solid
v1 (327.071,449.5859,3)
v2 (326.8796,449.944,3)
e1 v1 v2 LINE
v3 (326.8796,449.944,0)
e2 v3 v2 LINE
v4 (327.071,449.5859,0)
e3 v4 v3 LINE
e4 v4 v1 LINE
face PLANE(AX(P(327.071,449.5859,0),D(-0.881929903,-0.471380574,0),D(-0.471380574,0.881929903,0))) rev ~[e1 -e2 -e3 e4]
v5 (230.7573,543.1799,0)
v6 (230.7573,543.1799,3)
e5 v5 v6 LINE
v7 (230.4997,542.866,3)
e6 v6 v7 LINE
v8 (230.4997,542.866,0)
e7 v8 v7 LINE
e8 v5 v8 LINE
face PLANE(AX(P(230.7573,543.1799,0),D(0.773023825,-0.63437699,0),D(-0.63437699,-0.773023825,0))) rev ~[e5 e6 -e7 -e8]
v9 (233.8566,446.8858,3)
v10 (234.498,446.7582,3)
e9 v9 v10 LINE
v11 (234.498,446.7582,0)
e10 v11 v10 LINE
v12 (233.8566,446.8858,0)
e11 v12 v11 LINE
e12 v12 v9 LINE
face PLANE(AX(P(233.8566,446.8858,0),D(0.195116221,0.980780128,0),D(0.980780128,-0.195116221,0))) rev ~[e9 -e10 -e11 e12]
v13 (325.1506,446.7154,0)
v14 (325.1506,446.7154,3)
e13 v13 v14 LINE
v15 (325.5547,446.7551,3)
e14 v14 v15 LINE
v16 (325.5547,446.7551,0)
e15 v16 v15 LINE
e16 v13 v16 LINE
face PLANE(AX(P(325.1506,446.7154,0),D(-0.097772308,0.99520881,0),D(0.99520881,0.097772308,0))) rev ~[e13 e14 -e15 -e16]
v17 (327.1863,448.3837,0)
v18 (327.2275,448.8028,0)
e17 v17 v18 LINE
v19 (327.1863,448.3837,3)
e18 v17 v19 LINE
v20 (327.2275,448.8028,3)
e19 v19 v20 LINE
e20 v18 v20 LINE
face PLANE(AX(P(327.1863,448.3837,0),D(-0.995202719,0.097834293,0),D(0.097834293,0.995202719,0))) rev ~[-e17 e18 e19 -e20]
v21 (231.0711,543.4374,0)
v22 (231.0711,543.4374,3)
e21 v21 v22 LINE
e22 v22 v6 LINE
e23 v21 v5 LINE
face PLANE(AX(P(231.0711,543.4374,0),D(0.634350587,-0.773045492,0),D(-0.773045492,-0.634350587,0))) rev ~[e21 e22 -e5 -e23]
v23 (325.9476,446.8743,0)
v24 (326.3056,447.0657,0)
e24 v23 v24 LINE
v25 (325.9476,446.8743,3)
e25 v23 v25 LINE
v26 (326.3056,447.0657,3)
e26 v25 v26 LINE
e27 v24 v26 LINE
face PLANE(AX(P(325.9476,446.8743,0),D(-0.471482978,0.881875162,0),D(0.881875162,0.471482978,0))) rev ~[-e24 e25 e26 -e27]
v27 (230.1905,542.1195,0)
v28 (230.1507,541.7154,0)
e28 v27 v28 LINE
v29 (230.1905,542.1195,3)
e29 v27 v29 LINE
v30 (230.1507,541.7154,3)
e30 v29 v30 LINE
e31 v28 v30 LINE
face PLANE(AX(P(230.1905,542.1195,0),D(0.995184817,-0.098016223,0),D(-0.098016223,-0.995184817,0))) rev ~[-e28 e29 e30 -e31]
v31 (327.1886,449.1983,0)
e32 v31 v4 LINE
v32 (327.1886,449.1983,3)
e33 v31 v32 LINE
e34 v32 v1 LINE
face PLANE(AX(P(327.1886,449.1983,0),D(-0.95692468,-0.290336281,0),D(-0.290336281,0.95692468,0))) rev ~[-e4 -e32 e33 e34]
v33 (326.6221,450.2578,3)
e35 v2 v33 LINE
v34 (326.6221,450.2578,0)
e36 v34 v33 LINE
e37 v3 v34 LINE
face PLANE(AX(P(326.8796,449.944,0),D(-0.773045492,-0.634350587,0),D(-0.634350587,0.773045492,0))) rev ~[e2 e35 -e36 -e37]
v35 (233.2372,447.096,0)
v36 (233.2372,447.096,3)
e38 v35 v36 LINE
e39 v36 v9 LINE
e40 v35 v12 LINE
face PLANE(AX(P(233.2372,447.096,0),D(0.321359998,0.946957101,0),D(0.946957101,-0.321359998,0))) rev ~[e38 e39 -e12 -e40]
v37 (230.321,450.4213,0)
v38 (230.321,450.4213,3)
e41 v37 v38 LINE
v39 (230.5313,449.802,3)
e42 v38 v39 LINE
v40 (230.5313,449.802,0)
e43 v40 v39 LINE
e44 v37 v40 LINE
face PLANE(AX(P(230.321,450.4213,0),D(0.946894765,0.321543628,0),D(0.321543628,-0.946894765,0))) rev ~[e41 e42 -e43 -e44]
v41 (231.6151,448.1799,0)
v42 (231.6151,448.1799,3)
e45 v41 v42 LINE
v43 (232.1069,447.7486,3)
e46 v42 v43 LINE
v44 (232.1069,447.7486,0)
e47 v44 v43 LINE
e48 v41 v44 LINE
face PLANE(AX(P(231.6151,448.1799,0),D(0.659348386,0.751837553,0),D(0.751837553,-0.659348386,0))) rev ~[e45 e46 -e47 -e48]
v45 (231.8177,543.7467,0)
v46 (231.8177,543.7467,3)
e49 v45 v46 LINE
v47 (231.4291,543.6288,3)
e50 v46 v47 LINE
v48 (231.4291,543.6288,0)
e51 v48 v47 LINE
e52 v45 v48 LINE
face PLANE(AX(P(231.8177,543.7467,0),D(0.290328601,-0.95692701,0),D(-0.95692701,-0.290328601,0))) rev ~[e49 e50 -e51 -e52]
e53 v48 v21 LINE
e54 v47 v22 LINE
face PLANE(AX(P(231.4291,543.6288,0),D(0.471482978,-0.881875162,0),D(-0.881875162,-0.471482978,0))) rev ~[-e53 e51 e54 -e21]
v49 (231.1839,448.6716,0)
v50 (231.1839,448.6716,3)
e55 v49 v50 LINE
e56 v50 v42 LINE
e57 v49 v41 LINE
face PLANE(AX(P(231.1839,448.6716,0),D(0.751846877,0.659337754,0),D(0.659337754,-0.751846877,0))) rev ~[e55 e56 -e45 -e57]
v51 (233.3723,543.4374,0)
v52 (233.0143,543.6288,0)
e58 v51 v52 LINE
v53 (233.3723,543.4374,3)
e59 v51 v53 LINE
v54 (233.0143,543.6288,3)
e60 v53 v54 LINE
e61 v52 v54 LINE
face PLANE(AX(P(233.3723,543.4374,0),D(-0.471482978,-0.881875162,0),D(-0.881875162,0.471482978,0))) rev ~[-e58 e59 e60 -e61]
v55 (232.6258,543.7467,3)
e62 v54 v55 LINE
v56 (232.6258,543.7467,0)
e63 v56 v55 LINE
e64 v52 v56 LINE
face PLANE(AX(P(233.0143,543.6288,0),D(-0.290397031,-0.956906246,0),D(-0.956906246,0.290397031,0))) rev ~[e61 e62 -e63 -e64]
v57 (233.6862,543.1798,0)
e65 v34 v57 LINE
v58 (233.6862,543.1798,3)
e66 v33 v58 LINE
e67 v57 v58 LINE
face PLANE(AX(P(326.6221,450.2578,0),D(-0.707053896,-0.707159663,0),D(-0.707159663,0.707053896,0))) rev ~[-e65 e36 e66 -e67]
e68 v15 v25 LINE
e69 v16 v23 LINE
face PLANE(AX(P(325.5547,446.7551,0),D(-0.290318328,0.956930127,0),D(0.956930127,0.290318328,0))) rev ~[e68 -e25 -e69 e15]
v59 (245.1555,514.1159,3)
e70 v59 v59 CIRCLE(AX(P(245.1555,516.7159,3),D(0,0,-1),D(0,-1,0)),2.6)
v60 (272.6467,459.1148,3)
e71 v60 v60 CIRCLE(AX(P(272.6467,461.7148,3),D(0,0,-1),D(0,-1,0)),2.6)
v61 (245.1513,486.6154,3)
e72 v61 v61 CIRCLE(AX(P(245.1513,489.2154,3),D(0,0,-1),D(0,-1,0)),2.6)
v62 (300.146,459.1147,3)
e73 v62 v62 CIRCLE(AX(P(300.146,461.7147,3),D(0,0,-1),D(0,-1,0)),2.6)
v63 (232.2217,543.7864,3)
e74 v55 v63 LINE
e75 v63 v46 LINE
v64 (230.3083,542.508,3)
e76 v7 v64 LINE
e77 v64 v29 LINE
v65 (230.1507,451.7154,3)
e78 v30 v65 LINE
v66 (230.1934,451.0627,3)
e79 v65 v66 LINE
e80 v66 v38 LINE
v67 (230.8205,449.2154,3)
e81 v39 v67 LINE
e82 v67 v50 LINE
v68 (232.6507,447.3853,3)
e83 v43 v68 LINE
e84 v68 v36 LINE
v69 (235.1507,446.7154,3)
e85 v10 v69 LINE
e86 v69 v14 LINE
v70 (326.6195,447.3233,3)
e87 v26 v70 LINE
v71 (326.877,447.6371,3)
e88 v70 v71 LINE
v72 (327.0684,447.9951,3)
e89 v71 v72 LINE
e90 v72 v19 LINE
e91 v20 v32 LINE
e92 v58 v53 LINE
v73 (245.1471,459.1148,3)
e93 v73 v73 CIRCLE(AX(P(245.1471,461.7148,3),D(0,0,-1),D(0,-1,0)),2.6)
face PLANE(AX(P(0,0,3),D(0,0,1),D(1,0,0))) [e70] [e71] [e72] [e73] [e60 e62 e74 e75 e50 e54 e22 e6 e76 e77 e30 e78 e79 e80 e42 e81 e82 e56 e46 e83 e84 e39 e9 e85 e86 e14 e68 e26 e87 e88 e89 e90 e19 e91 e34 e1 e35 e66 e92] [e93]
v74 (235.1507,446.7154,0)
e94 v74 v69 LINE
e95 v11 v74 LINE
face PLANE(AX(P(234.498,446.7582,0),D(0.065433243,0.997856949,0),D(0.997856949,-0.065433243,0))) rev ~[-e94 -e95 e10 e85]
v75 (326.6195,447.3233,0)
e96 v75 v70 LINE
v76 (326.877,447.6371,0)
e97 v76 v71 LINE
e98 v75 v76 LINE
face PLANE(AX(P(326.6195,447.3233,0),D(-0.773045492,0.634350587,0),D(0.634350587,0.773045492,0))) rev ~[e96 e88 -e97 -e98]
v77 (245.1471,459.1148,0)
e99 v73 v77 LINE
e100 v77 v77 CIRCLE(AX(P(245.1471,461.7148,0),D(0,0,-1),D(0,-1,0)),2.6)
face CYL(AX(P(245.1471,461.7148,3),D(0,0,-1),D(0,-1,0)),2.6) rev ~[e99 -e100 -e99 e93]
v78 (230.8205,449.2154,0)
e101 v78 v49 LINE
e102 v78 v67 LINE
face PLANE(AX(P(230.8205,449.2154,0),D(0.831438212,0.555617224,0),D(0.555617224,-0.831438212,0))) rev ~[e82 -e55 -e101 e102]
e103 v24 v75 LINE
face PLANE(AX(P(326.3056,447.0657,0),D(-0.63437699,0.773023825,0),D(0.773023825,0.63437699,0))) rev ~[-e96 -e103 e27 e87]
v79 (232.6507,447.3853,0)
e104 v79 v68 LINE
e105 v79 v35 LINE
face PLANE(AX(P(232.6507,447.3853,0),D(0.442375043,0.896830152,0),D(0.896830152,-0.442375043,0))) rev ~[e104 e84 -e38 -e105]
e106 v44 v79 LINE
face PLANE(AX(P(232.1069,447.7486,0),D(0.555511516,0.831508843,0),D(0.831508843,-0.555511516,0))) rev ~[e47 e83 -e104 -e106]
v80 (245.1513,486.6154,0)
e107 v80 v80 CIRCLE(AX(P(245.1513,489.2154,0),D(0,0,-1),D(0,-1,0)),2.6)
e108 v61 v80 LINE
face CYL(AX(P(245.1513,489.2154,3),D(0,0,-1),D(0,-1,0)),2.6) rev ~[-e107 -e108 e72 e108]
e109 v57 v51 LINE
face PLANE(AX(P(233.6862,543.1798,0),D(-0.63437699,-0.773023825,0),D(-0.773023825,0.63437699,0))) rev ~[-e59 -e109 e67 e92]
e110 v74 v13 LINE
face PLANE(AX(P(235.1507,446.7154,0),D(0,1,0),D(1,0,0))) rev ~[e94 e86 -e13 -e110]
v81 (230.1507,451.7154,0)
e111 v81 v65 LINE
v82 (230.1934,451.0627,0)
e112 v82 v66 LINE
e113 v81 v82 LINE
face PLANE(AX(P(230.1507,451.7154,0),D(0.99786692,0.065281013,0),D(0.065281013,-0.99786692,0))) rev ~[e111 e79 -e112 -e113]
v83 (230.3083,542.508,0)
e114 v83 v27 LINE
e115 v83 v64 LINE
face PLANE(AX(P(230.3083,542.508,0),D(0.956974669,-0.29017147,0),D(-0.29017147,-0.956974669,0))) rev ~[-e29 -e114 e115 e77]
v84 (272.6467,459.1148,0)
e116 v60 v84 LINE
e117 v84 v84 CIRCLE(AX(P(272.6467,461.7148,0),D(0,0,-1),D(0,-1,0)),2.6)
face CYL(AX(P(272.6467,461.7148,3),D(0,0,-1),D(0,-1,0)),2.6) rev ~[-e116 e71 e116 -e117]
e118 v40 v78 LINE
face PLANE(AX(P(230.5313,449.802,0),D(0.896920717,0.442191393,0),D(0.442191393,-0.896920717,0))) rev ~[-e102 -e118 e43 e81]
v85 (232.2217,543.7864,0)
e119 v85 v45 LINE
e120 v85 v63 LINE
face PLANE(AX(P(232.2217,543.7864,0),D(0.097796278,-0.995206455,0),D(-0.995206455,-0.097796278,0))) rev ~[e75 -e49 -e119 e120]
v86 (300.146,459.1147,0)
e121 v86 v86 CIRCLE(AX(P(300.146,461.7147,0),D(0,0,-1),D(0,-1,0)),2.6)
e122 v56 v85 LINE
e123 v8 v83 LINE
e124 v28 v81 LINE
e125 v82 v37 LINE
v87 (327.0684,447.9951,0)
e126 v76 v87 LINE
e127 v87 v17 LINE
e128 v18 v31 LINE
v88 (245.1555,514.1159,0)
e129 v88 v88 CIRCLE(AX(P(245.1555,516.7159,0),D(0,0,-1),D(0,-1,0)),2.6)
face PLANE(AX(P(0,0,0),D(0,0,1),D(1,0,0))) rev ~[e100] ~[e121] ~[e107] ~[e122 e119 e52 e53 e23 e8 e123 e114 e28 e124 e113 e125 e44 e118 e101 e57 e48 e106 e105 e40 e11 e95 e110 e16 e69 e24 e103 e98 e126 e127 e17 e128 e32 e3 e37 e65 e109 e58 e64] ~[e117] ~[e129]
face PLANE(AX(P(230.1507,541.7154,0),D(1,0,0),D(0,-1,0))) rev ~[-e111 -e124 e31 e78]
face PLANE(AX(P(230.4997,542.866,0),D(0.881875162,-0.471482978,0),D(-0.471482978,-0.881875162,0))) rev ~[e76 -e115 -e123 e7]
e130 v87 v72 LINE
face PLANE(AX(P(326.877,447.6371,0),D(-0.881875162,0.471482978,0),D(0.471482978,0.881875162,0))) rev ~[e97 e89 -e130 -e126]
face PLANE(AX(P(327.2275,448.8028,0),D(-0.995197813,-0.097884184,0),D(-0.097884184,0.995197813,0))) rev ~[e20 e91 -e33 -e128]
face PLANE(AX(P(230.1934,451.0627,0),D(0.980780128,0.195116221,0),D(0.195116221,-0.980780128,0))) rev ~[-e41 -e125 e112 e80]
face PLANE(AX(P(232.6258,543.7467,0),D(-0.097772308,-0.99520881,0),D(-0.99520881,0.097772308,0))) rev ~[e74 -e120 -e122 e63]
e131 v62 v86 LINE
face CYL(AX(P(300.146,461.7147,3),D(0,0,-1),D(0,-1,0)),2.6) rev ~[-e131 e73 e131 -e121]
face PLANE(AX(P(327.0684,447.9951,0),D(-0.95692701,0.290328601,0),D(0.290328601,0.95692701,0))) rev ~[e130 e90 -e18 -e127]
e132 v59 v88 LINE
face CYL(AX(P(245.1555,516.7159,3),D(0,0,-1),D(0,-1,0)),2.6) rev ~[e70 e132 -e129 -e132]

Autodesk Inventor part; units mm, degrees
ref_plane "YZ Plane" through (0, 0, 0) normal (1, 0, 0) x (0, 1, 0)
ref_plane "XZ Plane" through (0, 0, 0) normal (0, 1, 0) x (-1, 0, 0)
ref_plane "XY Plane" through (0, 0, 0) normal (0, 0, 1) x (1, 0, 0)
sketch "Sketch1" plane through (0, 0, 0) normal (0, 0, 1) x (1, 0, 0)
  line L0 (327.1886, 449.1983) -> (327.071, 449.5859)
  line L1 (327.071, 449.5859) -> (326.8796, 449.944)
  line L2 (326.8796, 449.944) -> (326.6221, 450.2578)
  line L3 (326.6221, 450.2578) -> (233.6862, 543.1798)
  line L4 (233.6862, 543.1798) -> (233.3723, 543.4374)
  line L5 (233.3723, 543.4374) -> (233.0143, 543.6288)
  line L6 (233.0143, 543.6288) -> (232.6258, 543.7467)
  line L7 (232.6258, 543.7467) -> (232.2217, 543.7864)
  line L8 (232.2217, 543.7864) -> (231.8177, 543.7467)
  line L9 (231.8177, 543.7467) -> (231.4291, 543.6288)
  line L10 (231.4291, 543.6288) -> (231.0711, 543.4374)
  line L11 (231.0711, 543.4374) -> (230.7573, 543.1799)
  line L12 (230.7573, 543.1799) -> (230.4997, 542.866)
  line L13 (230.4997, 542.866) -> (230.3083, 542.508)
  line L14 (230.3083, 542.508) -> (230.1905, 542.1195)
  line L15 (230.1905, 542.1195) -> (230.1507, 541.7154)
  line L16 (230.1507, 541.7154) -> (230.1507, 451.7154)
  line L17 (230.1507, 451.7154) -> (230.1934, 451.0627)
  line L18 (230.1934, 451.0627) -> (230.321, 450.4213)
  line L19 (230.321, 450.4213) -> (230.5313, 449.802)
  line L20 (230.5313, 449.802) -> (230.8205, 449.2154)
  line L21 (230.8205, 449.2154) -> (231.1839, 448.6716)
  line L22 (231.1839, 448.6716) -> (231.6151, 448.1799)
  line L23 (231.6151, 448.1799) -> (232.1069, 447.7486)
  line L24 (232.1069, 447.7486) -> (232.6507, 447.3853)
  line L25 (232.6507, 447.3853) -> (233.2372, 447.096)
  line L26 (233.2372, 447.096) -> (233.8566, 446.8858)
  line L27 (233.8566, 446.8858) -> (234.498, 446.7582)
  line L28 (234.498, 446.7582) -> (235.1507, 446.7154)
  line L29 (235.1507, 446.7154) -> (325.1506, 446.7154)
  line L30 (325.1506, 446.7154) -> (325.5547, 446.7551)
  line L31 (325.5547, 446.7551) -> (325.9476, 446.8743)
  line L32 (325.9476, 446.8743) -> (326.3056, 447.0657)
  line L33 (326.3056, 447.0657) -> (326.6195, 447.3233)
  line L34 (326.6195, 447.3233) -> (326.877, 447.6371)
  line L35 (326.877, 447.6371) -> (327.0684, 447.9951)
  line L36 (327.0684, 447.9951) -> (327.1863, 448.3837)
  line L37 (327.1863, 448.3837) -> (327.2275, 448.8028)
  line L38 (327.2275, 448.8028) -> (327.1886, 449.1983)
  line L39 (302.5802, 462.3669) -> (302.3285, 462.9747)
  line L40 (302.3285, 462.9747) -> (301.928, 463.4966)
  line L41 (301.928, 463.4966) -> (301.4061, 463.8971)
  line L42 (301.4061, 463.8971) -> (300.7984, 464.1488)
  line L43 (300.7984, 464.1488) -> (300.1461, 464.2347)
  line L44 (300.1461, 464.2347) -> (299.4939, 464.1489)
  line L45 (299.4939, 464.1489) -> (298.8861, 463.8972)
  line L46 (298.8861, 463.8972) -> (298.3642, 463.4967)
  line L47 (298.3642, 463.4967) -> (297.9637, 462.9748)
  line L48 (297.9637, 462.9748) -> (297.7119, 462.367)
  line L49 (297.7119, 462.367) -> (297.6261, 461.7148)
  line L50 (297.6261, 461.7148) -> (297.7119, 461.0625)
  line L51 (297.7119, 461.0625) -> (297.9636, 460.4548)
  line L52 (297.9636, 460.4548) -> (298.3641, 459.9328)
  line L53 (298.3641, 459.9328) -> (298.886, 459.5323)
  line L54 (298.886, 459.5323) -> (299.4937, 459.2806)
  line L55 (299.4937, 459.2806) -> (300.1459, 459.1948)
  line L56 (300.1459, 459.1948) -> (300.7982, 459.2805)
  line L57 (300.7982, 459.2805) -> (301.406, 459.5323)
  line L58 (301.406, 459.5323) -> (301.9279, 459.9327)
  line L59 (301.9279, 459.9327) -> (302.3284, 460.4546)
  line L60 (302.3284, 460.4546) -> (302.5801, 461.0624)
  line L61 (302.5801, 461.0624) -> (302.666, 461.7147)
  line L62 (302.666, 461.7147) -> (302.5802, 462.3669)
  line L63 (247.5897, 517.3681) -> (247.338, 517.9759)
  line L64 (247.338, 517.9759) -> (246.9375, 518.4978)
  line L65 (246.9375, 518.4978) -> (246.4156, 518.8983)
  line L66 (246.4156, 518.8983) -> (245.8078, 519.15)
  line L67 (245.8078, 519.15) -> (245.1556, 519.2359)
  line L68 (245.1556, 519.2359) -> (244.5033, 519.1501)
  line L69 (244.5033, 519.1501) -> (243.8956, 518.8984)
  line L70 (243.8956, 518.8984) -> (243.3736, 518.4979)
  line L71 (243.3736, 518.4979) -> (242.9731, 517.976)
  line L72 (242.9731, 517.976) -> (242.7214, 517.3683)
  line L73 (242.7214, 517.3683) -> (242.6356, 516.716)
  line L74 (242.6356, 516.716) -> (242.7213, 516.0638)
  line L75 (242.7213, 516.0638) -> (242.9731, 515.456)
  line L76 (242.9731, 515.456) -> (243.3736, 514.9341)
  line L77 (243.3736, 514.9341) -> (243.8954, 514.5336)
  line L78 (243.8954, 514.5336) -> (244.5032, 514.2818)
  line L79 (244.5032, 514.2818) -> (245.1554, 514.196)
  line L80 (245.1554, 514.196) -> (245.8077, 514.2817)
  line L81 (245.8077, 514.2817) -> (246.4154, 514.5335)
  line L82 (246.4154, 514.5335) -> (246.9373, 514.9339)
  line L83 (246.9373, 514.9339) -> (247.3379, 515.4559)
  line L84 (247.3379, 515.4559) -> (247.5896, 516.0636)
  line L85 (247.5896, 516.0636) -> (247.6755, 516.7159)
  line L86 (247.6755, 516.7159) -> (247.5897, 517.3681)
  line L87 (275.0808, 462.367) -> (274.8291, 462.9747)
  line L88 (274.8291, 462.9747) -> (274.4286, 463.4966)
  line L89 (274.4286, 463.4966) -> (273.9067, 463.8971)
  line L90 (273.9067, 463.8971) -> (273.2989, 464.1489)
  line L91 (273.2989, 464.1489) -> (272.6467, 464.2347)
  line L92 (272.6467, 464.2347) -> (271.9945, 464.149)
  line L93 (271.9945, 464.149) -> (271.3867, 463.8972)
  line L94 (271.3867, 463.8972) -> (270.8647, 463.4967)
  line L95 (270.8647, 463.4967) -> (270.4643, 462.9749)
  line L96 (270.4643, 462.9749) -> (270.2125, 462.3671)
  line L97 (270.2125, 462.3671) -> (270.1267, 461.7149)
  line L98 (270.1267, 461.7149) -> (270.2124, 461.0626)
  line L99 (270.2124, 461.0626) -> (270.4642, 460.4549)
  line L100 (270.4642, 460.4549) -> (270.8646, 459.9329)
  line L101 (270.8646, 459.9329) -> (271.3865, 459.5324)
  line L102 (271.3865, 459.5324) -> (271.9943, 459.2807)
  line L103 (271.9943, 459.2807) -> (272.6465, 459.1948)
  line L104 (272.6465, 459.1948) -> (273.2987, 459.2806)
  line L105 (273.2987, 459.2806) -> (273.9065, 459.5323)
  line L106 (273.9065, 459.5323) -> (274.4285, 459.9328)
  line L107 (274.4285, 459.9328) -> (274.829, 460.4547)
  line L108 (274.829, 460.4547) -> (275.0807, 461.0625)
  line L109 (275.0807, 461.0625) -> (275.1665, 461.7146)
  line L110 (275.1665, 461.7146) -> (275.0808, 462.367)
  line L111 (247.5813, 462.367) -> (247.3296, 462.9748)
  line L112 (247.3296, 462.9748) -> (246.9291, 463.4967)
  line L113 (246.9291, 463.4967) -> (246.4072, 463.8972)
  line L114 (246.4072, 463.8972) -> (245.7994, 464.1489)
  line L115 (245.7994, 464.1489) -> (245.1472, 464.2348)
  line L116 (245.1472, 464.2348) -> (244.495, 464.149)
  line L117 (244.495, 464.149) -> (243.8872, 463.8973)
  line L118 (243.8872, 463.8973) -> (243.3653, 463.4968)
  line L119 (243.3653, 463.4968) -> (242.9648, 462.9749)
  line L120 (242.9648, 462.9749) -> (242.713, 462.3671)
  line L121 (242.713, 462.3671) -> (242.6272, 461.7149)
  line L122 (242.6272, 461.7149) -> (242.713, 461.0627)
  line L123 (242.713, 461.0627) -> (242.9647, 460.4549)
  line L124 (242.9647, 460.4549) -> (243.3652, 459.933)
  line L125 (243.3652, 459.933) -> (243.8871, 459.5325)
  line L126 (243.8871, 459.5325) -> (244.4948, 459.2808)
  line L127 (244.4948, 459.2808) -> (245.147, 459.1949)
  line L128 (245.147, 459.1949) -> (245.7993, 459.2807)
  line L129 (245.7993, 459.2807) -> (246.4071, 459.5324)
  line L130 (246.4071, 459.5324) -> (246.929, 459.9329)
  line L131 (246.929, 459.9329) -> (247.3295, 460.4548)
  line L132 (247.3295, 460.4548) -> (247.5812, 461.0625)
  line L133 (247.5812, 461.0625) -> (247.6671, 461.7149)
  line L134 (247.6671, 461.7149) -> (247.5813, 462.367)
  line L135 (247.5854, 489.8677) -> (247.3337, 490.4753)
  line L136 (247.3337, 490.4753) -> (246.9332, 490.9973)
  line L137 (246.9332, 490.9973) -> (246.4114, 491.3978)
  line L138 (246.4114, 491.3978) -> (245.8036, 491.6495)
  line L139 (245.8036, 491.6495) -> (245.1514, 491.7354)
  line L140 (245.1514, 491.7354) -> (244.4991, 491.6496)
  line L141 (244.4991, 491.6496) -> (243.8914, 491.3979)
  line L142 (243.8914, 491.3979) -> (243.3694, 490.9974)
  line L143 (243.3694, 490.9974) -> (242.9689, 490.4755)
  line L144 (242.9689, 490.4755) -> (242.7172, 489.8677)
  line L145 (242.7172, 489.8677) -> (242.6313, 489.2155)
  line L146 (242.6313, 489.2155) -> (242.7171, 488.5632)
  line L147 (242.7171, 488.5632) -> (242.9688, 487.9555)
  line L148 (242.9688, 487.9555) -> (243.3693, 487.4335)
  line L149 (243.3693, 487.4335) -> (243.8912, 487.033)
  line L150 (243.8912, 487.033) -> (244.499, 486.7813)
  line L151 (244.499, 486.7813) -> (245.1512, 486.6954)
  line L152 (245.1512, 486.6954) -> (245.8034, 486.7812)
  line L153 (245.8034, 486.7812) -> (246.4112, 487.0329)
  line L154 (246.4112, 487.0329) -> (246.9331, 487.4334)
  line L155 (246.9331, 487.4334) -> (247.3336, 487.9553)
  line L156 (247.3336, 487.9553) -> (247.5853, 488.563)
  line L157 (247.5853, 488.563) -> (247.6712, 489.2153)
  line L158 (247.6712, 489.2153) -> (247.5854, 489.8677)
  point P0 (0, 0)
extrude "Extrusion1" add sketch "Sketch1" along normal blind 3
sketch "Sketch2" plane through (0, 0, 3) normal (0, 0, 1) x (1, 0, 0)
  line L0 (247.5897, 517.3681) -> (247.6755, 516.7159) projected
  line L1 (247.6755, 516.7159) -> (247.5896, 516.0636) projected
  line L2 (247.5896, 516.0636) -> (247.3379, 515.4559) projected
  line L3 (247.3379, 515.4559) -> (246.9373, 514.9339) projected
  line L4 (246.9373, 514.9339) -> (246.4154, 514.5335) projected
  line L5 (246.4154, 514.5335) -> (245.8077, 514.2817) projected
  line L6 (245.8077, 514.2817) -> (245.1554, 514.196) projected
  line L7 (245.1554, 514.196) -> (244.5032, 514.2818) projected
  line L8 (244.5032, 514.2818) -> (243.8954, 514.5336) projected
  line L9 (243.8954, 514.5336) -> (243.3736, 514.9341) projected
  line L10 (243.3736, 514.9341) -> (242.9731, 515.456) projected
  line L11 (242.9731, 515.456) -> (242.7213, 516.0638) projected
  line L12 (242.7213, 516.0638) -> (242.6356, 516.716) projected
  line L13 (242.6356, 516.716) -> (242.7214, 517.3683) projected
  line L14 (242.7214, 517.3683) -> (242.9731, 517.976) projected
  line L15 (242.9731, 517.976) -> (243.3736, 518.4979) projected
  line L16 (243.3736, 518.4979) -> (243.8956, 518.8984) projected
  line L17 (243.8956, 518.8984) -> (244.5033, 519.1501) projected
  line L18 (244.5033, 519.1501) -> (245.1556, 519.2359) projected
  line L19 (245.1556, 519.2359) -> (245.8078, 519.15) projected
  line L20 (245.8078, 519.15) -> (246.4156, 518.8983) projected
  line L21 (246.4156, 518.8983) -> (246.9375, 518.4978) projected
  line L22 (246.9375, 518.4978) -> (247.338, 517.9759) projected
  line L23 (247.338, 517.9759) -> (247.5897, 517.3681) projected
  line L24 (247.5854, 489.8677) -> (247.6712, 489.2153) projected
  line L25 (247.6712, 489.2153) -> (247.5853, 488.563) projected
  line L26 (247.5853, 488.563) -> (247.3336, 487.9553) projected
  line L27 (247.3336, 487.9553) -> (246.9331, 487.4334) projected
  line L28 (246.9331, 487.4334) -> (246.4112, 487.0329) projected
  line L29 (246.4112, 487.0329) -> (245.8034, 486.7812) projected
  line L30 (245.8034, 486.7812) -> (245.1512, 486.6954) projected
  line L31 (245.1512, 486.6954) -> (244.499, 486.7813) projected
  line L32 (244.499, 486.7813) -> (243.8912, 487.033) projected
  line L33 (243.8912, 487.033) -> (243.3693, 487.4335) projected
  line L34 (243.3693, 487.4335) -> (242.9688, 487.9555) projected
  line L35 (242.9688, 487.9555) -> (242.7171, 488.5632) projected
  line L36 (242.7171, 488.5632) -> (242.6313, 489.2155) projected
  line L37 (242.6313, 489.2155) -> (242.7172, 489.8677) projected
  line L38 (242.7172, 489.8677) -> (242.9689, 490.4755) projected
  line L39 (242.9689, 490.4755) -> (243.3694, 490.9974) projected
  line L40 (243.3694, 490.9974) -> (243.8914, 491.3979) projected
  line L41 (243.8914, 491.3979) -> (244.4991, 491.6496) projected
  line L42 (244.4991, 491.6496) -> (245.1514, 491.7354) projected
  line L43 (245.1514, 491.7354) -> (245.8036, 491.6495) projected
  line L44 (245.8036, 491.6495) -> (246.4114, 491.3978) projected
  line L45 (246.4114, 491.3978) -> (246.9332, 490.9973) projected
  line L46 (246.9332, 490.9973) -> (247.3337, 490.4753) projected
  line L47 (247.3337, 490.4753) -> (247.5854, 489.8677) projected
  line L48 (302.5802, 462.3669) -> (302.666, 461.7147) projected
  line L49 (302.666, 461.7147) -> (302.5801, 461.0624) projected
  line L50 (302.5801, 461.0624) -> (302.3284, 460.4546) projected
  line L51 (302.3284, 460.4546) -> (301.9279, 459.9327) projected
  line L52 (301.9279, 459.9327) -> (301.406, 459.5323) projected
  line L53 (301.406, 459.5323) -> (300.7982, 459.2805) projected
  line L54 (300.7982, 459.2805) -> (300.1459, 459.1948) projected
  line L55 (300.1459, 459.1948) -> (299.4937, 459.2806) projected
  line L56 (299.4937, 459.2806) -> (298.886, 459.5323) projected
  line L57 (298.886, 459.5323) -> (298.3641, 459.9328) projected
  line L58 (298.3641, 459.9328) -> (297.9636, 460.4548) projected
  line L59 (297.9636, 460.4548) -> (297.7119, 461.0625) projected
  line L60 (297.7119, 461.0625) -> (297.6261, 461.7148) projected
  line L61 (297.6261, 461.7148) -> (297.7119, 462.367) projected
  line L62 (297.7119, 462.367) -> (297.9637, 462.9748) projected
  line L63 (297.9637, 462.9748) -> (298.3642, 463.4967) projected
  line L64 (298.3642, 463.4967) -> (298.8861, 463.8972) projected
  line L65 (298.8861, 463.8972) -> (299.4939, 464.1489) projected
  line L66 (299.4939, 464.1489) -> (300.1461, 464.2347) projected
  line L67 (300.1461, 464.2347) -> (300.7984, 464.1488) projected
  line L68 (300.7984, 464.1488) -> (301.4061, 463.8971) projected
  line L69 (301.4061, 463.8971) -> (301.928, 463.4966) projected
  line L70 (301.928, 463.4966) -> (302.3285, 462.9747) projected
  line L71 (302.3285, 462.9747) -> (302.5802, 462.3669) projected
  line L72 (247.5813, 462.367) -> (247.6671, 461.7149) projected
  line L73 (247.6671, 461.7149) -> (247.5812, 461.0625) projected
  line L74 (247.5812, 461.0625) -> (247.3295, 460.4548) projected
  line L75 (247.3295, 460.4548) -> (246.929, 459.9329) projected
  line L76 (246.929, 459.9329) -> (246.4071, 459.5324) projected
  line L77 (246.4071, 459.5324) -> (245.7993, 459.2807) projected
  line L78 (245.7993, 459.2807) -> (245.147, 459.1949) projected
  line L79 (245.147, 459.1949) -> (244.4948, 459.2808) projected
  line L80 (244.4948, 459.2808) -> (243.8871, 459.5325) projected
  line L81 (243.8871, 459.5325) -> (243.3652, 459.933) projected
  line L82 (243.3652, 459.933) -> (242.9647, 460.4549) projected
  line L83 (242.9647, 460.4549) -> (242.713, 461.0627) projected
  line L84 (242.713, 461.0627) -> (242.6272, 461.7149) projected
  line L85 (242.6272, 461.7149) -> (242.713, 462.3671) projected
  line L86 (242.713, 462.3671) -> (242.9648, 462.9749) projected
  line L87 (242.9648, 462.9749) -> (243.3653, 463.4968) projected
  line L88 (243.3653, 463.4968) -> (243.8872, 463.8973) projected
  line L89 (243.8872, 463.8973) -> (244.495, 464.149) projected
  line L90 (244.495, 464.149) -> (245.1472, 464.2348) projected
  line L91 (245.1472, 464.2348) -> (245.7994, 464.1489) projected
  line L92 (245.7994, 464.1489) -> (246.4072, 463.8972) projected
  line L93 (246.4072, 463.8972) -> (246.9291, 463.4967) projected
  line L94 (246.9291, 463.4967) -> (247.3296, 462.9748) projected
  line L95 (247.3296, 462.9748) -> (247.5813, 462.367) projected
  line L96 (275.0808, 462.367) -> (275.1665, 461.7146) projected
  line L97 (275.1665, 461.7146) -> (275.0807, 461.0625) projected
  line L98 (275.0807, 461.0625) -> (274.829, 460.4547) projected
  line L99 (274.829, 460.4547) -> (274.4285, 459.9328) projected
  line L100 (274.4285, 459.9328) -> (273.9065, 459.5323) projected
  line L101 (273.9065, 459.5323) -> (273.2987, 459.2806) projected
  line L102 (273.2987, 459.2806) -> (272.6465, 459.1948) projected
  line L103 (272.6465, 459.1948) -> (271.9943, 459.2807) projected
  line L104 (271.9943, 459.2807) -> (271.3865, 459.5324) projected
  line L105 (271.3865, 459.5324) -> (270.8646, 459.9329) projected
  line L106 (270.8646, 459.9329) -> (270.4642, 460.4549) projected
  line L107 (270.4642, 460.4549) -> (270.2124, 461.0626) projected
  line L108 (270.2124, 461.0626) -> (270.1267, 461.7149) projected
  line L109 (270.1267, 461.7149) -> (270.2125, 462.3671) projected
  line L110 (270.2125, 462.3671) -> (270.4643, 462.9749) projected
  line L111 (270.4643, 462.9749) -> (270.8647, 463.4967) projected
  line L112 (270.8647, 463.4967) -> (271.3867, 463.8972) projected
  line L113 (271.3867, 463.8972) -> (271.9945, 464.149) projected
  line L114 (271.9945, 464.149) -> (272.6467, 464.2347) projected
  line L115 (272.6467, 464.2347) -> (273.2989, 464.1489) projected
  line L116 (273.2989, 464.1489) -> (273.9067, 463.8971) projected
  line L117 (273.9067, 463.8971) -> (274.4286, 463.4966) projected
  line L118 (274.4286, 463.4966) -> (274.8291, 462.9747) projected
  line L119 (274.8291, 462.9747) -> (275.0808, 462.367) projected
  line L120 (327.1886, 449.1983) -> (327.071, 449.5859) projected
  line L121 (327.071, 449.5859) -> (326.8796, 449.944) projected
  line L122 (326.8796, 449.944) -> (326.6221, 450.2578) projected
  line L123 (326.6221, 450.2578) -> (233.6862, 543.1798) projected
  line L124 (233.6862, 543.1798) -> (233.3723, 543.4374) projected
  line L125 (233.3723, 543.4374) -> (233.0143, 543.6288) projected
  line L126 (233.0143, 543.6288) -> (232.6258, 543.7467) projected
  line L127 (232.6258, 543.7467) -> (232.2217, 543.7864) projected
  line L128 (232.2217, 543.7864) -> (231.8177, 543.7467) projected
  line L129 (231.8177, 543.7467) -> (231.4291, 543.6288) projected
  line L130 (231.4291, 543.6288) -> (231.0711, 543.4374) projected
  line L131 (231.0711, 543.4374) -> (230.7573, 543.1799) projected
  line L132 (230.7573, 543.1799) -> (230.4997, 542.866) projected
  line L133 (230.4997, 542.866) -> (230.3083, 542.508) projected
  line L134 (230.3083, 542.508) -> (230.1905, 542.1195) projected
  line L135 (230.1905, 542.1195) -> (230.1507, 541.7154) projected
  line L136 (230.1507, 541.7154) -> (230.1507, 451.7154) projected
  line L137 (230.1507, 451.7154) -> (230.1934, 451.0627) projected
  line L138 (230.1934, 451.0627) -> (230.321, 450.4213) projected
  line L139 (230.321, 450.4213) -> (230.5313, 449.802) projected
  line L140 (230.5313, 449.802) -> (230.8205, 449.2154) projected
  line L141 (230.8205, 449.2154) -> (231.1839, 448.6716) projected
  line L142 (231.1839, 448.6716) -> (231.6151, 448.1799) projected
  line L143 (231.6151, 448.1799) -> (232.1069, 447.7486) projected
  line L144 (232.1069, 447.7486) -> (232.6507, 447.3853) projected
  line L145 (232.6507, 447.3853) -> (233.2372, 447.096) projected
  line L146 (233.2372, 447.096) -> (233.8566, 446.8858) projected
  line L147 (233.8566, 446.8858) -> (234.498, 446.7582) projected
  line L148 (234.498, 446.7582) -> (235.1507, 446.7154) projected
  line L149 (235.1507, 446.7154) -> (325.1506, 446.7154) projected
  line L150 (325.1506, 446.7154) -> (325.5547, 446.7551) projected
  line L151 (325.5547, 446.7551) -> (325.9476, 446.8743) projected
  line L152 (325.9476, 446.8743) -> (326.3056, 447.0657) projected
  line L153 (326.3056, 447.0657) -> (326.6195, 447.3233) projected
  line L154 (326.6195, 447.3233) -> (326.877, 447.6371) projected
  line L155 (326.877, 447.6371) -> (327.0684, 447.9951) projected
  line L156 (327.0684, 447.9951) -> (327.1863, 448.3837) projected
  line L157 (327.1863, 448.3837) -> (327.2275, 448.8028) projected
  line L158 (327.2275, 448.8028) -> (327.1886, 449.1983) projected
  circle A0 centre (300.146, 461.7147) radius 2.4985
  circle A1 centre (272.6467, 461.7148) radius 2.4985
  circle A2 centre (245.1471, 461.7148) radius 2.4984
  circle A3 centre (245.1513, 489.2154) radius 2.4985
  circle A4 centre (245.1555, 516.7159) radius 2.4984
  point P0 (0, 0)
hole "Hole1" at (245.1555, 516.7159, 3) at (245.1513, 489.2154, 3) at (245.1471, 461.7148, 3) at (272.6467, 461.7148, 3) at (300.146, 461.7147, 3) direction (0, 0, -1) diameter 5.2 end through all
properties part number "Front Brace"
